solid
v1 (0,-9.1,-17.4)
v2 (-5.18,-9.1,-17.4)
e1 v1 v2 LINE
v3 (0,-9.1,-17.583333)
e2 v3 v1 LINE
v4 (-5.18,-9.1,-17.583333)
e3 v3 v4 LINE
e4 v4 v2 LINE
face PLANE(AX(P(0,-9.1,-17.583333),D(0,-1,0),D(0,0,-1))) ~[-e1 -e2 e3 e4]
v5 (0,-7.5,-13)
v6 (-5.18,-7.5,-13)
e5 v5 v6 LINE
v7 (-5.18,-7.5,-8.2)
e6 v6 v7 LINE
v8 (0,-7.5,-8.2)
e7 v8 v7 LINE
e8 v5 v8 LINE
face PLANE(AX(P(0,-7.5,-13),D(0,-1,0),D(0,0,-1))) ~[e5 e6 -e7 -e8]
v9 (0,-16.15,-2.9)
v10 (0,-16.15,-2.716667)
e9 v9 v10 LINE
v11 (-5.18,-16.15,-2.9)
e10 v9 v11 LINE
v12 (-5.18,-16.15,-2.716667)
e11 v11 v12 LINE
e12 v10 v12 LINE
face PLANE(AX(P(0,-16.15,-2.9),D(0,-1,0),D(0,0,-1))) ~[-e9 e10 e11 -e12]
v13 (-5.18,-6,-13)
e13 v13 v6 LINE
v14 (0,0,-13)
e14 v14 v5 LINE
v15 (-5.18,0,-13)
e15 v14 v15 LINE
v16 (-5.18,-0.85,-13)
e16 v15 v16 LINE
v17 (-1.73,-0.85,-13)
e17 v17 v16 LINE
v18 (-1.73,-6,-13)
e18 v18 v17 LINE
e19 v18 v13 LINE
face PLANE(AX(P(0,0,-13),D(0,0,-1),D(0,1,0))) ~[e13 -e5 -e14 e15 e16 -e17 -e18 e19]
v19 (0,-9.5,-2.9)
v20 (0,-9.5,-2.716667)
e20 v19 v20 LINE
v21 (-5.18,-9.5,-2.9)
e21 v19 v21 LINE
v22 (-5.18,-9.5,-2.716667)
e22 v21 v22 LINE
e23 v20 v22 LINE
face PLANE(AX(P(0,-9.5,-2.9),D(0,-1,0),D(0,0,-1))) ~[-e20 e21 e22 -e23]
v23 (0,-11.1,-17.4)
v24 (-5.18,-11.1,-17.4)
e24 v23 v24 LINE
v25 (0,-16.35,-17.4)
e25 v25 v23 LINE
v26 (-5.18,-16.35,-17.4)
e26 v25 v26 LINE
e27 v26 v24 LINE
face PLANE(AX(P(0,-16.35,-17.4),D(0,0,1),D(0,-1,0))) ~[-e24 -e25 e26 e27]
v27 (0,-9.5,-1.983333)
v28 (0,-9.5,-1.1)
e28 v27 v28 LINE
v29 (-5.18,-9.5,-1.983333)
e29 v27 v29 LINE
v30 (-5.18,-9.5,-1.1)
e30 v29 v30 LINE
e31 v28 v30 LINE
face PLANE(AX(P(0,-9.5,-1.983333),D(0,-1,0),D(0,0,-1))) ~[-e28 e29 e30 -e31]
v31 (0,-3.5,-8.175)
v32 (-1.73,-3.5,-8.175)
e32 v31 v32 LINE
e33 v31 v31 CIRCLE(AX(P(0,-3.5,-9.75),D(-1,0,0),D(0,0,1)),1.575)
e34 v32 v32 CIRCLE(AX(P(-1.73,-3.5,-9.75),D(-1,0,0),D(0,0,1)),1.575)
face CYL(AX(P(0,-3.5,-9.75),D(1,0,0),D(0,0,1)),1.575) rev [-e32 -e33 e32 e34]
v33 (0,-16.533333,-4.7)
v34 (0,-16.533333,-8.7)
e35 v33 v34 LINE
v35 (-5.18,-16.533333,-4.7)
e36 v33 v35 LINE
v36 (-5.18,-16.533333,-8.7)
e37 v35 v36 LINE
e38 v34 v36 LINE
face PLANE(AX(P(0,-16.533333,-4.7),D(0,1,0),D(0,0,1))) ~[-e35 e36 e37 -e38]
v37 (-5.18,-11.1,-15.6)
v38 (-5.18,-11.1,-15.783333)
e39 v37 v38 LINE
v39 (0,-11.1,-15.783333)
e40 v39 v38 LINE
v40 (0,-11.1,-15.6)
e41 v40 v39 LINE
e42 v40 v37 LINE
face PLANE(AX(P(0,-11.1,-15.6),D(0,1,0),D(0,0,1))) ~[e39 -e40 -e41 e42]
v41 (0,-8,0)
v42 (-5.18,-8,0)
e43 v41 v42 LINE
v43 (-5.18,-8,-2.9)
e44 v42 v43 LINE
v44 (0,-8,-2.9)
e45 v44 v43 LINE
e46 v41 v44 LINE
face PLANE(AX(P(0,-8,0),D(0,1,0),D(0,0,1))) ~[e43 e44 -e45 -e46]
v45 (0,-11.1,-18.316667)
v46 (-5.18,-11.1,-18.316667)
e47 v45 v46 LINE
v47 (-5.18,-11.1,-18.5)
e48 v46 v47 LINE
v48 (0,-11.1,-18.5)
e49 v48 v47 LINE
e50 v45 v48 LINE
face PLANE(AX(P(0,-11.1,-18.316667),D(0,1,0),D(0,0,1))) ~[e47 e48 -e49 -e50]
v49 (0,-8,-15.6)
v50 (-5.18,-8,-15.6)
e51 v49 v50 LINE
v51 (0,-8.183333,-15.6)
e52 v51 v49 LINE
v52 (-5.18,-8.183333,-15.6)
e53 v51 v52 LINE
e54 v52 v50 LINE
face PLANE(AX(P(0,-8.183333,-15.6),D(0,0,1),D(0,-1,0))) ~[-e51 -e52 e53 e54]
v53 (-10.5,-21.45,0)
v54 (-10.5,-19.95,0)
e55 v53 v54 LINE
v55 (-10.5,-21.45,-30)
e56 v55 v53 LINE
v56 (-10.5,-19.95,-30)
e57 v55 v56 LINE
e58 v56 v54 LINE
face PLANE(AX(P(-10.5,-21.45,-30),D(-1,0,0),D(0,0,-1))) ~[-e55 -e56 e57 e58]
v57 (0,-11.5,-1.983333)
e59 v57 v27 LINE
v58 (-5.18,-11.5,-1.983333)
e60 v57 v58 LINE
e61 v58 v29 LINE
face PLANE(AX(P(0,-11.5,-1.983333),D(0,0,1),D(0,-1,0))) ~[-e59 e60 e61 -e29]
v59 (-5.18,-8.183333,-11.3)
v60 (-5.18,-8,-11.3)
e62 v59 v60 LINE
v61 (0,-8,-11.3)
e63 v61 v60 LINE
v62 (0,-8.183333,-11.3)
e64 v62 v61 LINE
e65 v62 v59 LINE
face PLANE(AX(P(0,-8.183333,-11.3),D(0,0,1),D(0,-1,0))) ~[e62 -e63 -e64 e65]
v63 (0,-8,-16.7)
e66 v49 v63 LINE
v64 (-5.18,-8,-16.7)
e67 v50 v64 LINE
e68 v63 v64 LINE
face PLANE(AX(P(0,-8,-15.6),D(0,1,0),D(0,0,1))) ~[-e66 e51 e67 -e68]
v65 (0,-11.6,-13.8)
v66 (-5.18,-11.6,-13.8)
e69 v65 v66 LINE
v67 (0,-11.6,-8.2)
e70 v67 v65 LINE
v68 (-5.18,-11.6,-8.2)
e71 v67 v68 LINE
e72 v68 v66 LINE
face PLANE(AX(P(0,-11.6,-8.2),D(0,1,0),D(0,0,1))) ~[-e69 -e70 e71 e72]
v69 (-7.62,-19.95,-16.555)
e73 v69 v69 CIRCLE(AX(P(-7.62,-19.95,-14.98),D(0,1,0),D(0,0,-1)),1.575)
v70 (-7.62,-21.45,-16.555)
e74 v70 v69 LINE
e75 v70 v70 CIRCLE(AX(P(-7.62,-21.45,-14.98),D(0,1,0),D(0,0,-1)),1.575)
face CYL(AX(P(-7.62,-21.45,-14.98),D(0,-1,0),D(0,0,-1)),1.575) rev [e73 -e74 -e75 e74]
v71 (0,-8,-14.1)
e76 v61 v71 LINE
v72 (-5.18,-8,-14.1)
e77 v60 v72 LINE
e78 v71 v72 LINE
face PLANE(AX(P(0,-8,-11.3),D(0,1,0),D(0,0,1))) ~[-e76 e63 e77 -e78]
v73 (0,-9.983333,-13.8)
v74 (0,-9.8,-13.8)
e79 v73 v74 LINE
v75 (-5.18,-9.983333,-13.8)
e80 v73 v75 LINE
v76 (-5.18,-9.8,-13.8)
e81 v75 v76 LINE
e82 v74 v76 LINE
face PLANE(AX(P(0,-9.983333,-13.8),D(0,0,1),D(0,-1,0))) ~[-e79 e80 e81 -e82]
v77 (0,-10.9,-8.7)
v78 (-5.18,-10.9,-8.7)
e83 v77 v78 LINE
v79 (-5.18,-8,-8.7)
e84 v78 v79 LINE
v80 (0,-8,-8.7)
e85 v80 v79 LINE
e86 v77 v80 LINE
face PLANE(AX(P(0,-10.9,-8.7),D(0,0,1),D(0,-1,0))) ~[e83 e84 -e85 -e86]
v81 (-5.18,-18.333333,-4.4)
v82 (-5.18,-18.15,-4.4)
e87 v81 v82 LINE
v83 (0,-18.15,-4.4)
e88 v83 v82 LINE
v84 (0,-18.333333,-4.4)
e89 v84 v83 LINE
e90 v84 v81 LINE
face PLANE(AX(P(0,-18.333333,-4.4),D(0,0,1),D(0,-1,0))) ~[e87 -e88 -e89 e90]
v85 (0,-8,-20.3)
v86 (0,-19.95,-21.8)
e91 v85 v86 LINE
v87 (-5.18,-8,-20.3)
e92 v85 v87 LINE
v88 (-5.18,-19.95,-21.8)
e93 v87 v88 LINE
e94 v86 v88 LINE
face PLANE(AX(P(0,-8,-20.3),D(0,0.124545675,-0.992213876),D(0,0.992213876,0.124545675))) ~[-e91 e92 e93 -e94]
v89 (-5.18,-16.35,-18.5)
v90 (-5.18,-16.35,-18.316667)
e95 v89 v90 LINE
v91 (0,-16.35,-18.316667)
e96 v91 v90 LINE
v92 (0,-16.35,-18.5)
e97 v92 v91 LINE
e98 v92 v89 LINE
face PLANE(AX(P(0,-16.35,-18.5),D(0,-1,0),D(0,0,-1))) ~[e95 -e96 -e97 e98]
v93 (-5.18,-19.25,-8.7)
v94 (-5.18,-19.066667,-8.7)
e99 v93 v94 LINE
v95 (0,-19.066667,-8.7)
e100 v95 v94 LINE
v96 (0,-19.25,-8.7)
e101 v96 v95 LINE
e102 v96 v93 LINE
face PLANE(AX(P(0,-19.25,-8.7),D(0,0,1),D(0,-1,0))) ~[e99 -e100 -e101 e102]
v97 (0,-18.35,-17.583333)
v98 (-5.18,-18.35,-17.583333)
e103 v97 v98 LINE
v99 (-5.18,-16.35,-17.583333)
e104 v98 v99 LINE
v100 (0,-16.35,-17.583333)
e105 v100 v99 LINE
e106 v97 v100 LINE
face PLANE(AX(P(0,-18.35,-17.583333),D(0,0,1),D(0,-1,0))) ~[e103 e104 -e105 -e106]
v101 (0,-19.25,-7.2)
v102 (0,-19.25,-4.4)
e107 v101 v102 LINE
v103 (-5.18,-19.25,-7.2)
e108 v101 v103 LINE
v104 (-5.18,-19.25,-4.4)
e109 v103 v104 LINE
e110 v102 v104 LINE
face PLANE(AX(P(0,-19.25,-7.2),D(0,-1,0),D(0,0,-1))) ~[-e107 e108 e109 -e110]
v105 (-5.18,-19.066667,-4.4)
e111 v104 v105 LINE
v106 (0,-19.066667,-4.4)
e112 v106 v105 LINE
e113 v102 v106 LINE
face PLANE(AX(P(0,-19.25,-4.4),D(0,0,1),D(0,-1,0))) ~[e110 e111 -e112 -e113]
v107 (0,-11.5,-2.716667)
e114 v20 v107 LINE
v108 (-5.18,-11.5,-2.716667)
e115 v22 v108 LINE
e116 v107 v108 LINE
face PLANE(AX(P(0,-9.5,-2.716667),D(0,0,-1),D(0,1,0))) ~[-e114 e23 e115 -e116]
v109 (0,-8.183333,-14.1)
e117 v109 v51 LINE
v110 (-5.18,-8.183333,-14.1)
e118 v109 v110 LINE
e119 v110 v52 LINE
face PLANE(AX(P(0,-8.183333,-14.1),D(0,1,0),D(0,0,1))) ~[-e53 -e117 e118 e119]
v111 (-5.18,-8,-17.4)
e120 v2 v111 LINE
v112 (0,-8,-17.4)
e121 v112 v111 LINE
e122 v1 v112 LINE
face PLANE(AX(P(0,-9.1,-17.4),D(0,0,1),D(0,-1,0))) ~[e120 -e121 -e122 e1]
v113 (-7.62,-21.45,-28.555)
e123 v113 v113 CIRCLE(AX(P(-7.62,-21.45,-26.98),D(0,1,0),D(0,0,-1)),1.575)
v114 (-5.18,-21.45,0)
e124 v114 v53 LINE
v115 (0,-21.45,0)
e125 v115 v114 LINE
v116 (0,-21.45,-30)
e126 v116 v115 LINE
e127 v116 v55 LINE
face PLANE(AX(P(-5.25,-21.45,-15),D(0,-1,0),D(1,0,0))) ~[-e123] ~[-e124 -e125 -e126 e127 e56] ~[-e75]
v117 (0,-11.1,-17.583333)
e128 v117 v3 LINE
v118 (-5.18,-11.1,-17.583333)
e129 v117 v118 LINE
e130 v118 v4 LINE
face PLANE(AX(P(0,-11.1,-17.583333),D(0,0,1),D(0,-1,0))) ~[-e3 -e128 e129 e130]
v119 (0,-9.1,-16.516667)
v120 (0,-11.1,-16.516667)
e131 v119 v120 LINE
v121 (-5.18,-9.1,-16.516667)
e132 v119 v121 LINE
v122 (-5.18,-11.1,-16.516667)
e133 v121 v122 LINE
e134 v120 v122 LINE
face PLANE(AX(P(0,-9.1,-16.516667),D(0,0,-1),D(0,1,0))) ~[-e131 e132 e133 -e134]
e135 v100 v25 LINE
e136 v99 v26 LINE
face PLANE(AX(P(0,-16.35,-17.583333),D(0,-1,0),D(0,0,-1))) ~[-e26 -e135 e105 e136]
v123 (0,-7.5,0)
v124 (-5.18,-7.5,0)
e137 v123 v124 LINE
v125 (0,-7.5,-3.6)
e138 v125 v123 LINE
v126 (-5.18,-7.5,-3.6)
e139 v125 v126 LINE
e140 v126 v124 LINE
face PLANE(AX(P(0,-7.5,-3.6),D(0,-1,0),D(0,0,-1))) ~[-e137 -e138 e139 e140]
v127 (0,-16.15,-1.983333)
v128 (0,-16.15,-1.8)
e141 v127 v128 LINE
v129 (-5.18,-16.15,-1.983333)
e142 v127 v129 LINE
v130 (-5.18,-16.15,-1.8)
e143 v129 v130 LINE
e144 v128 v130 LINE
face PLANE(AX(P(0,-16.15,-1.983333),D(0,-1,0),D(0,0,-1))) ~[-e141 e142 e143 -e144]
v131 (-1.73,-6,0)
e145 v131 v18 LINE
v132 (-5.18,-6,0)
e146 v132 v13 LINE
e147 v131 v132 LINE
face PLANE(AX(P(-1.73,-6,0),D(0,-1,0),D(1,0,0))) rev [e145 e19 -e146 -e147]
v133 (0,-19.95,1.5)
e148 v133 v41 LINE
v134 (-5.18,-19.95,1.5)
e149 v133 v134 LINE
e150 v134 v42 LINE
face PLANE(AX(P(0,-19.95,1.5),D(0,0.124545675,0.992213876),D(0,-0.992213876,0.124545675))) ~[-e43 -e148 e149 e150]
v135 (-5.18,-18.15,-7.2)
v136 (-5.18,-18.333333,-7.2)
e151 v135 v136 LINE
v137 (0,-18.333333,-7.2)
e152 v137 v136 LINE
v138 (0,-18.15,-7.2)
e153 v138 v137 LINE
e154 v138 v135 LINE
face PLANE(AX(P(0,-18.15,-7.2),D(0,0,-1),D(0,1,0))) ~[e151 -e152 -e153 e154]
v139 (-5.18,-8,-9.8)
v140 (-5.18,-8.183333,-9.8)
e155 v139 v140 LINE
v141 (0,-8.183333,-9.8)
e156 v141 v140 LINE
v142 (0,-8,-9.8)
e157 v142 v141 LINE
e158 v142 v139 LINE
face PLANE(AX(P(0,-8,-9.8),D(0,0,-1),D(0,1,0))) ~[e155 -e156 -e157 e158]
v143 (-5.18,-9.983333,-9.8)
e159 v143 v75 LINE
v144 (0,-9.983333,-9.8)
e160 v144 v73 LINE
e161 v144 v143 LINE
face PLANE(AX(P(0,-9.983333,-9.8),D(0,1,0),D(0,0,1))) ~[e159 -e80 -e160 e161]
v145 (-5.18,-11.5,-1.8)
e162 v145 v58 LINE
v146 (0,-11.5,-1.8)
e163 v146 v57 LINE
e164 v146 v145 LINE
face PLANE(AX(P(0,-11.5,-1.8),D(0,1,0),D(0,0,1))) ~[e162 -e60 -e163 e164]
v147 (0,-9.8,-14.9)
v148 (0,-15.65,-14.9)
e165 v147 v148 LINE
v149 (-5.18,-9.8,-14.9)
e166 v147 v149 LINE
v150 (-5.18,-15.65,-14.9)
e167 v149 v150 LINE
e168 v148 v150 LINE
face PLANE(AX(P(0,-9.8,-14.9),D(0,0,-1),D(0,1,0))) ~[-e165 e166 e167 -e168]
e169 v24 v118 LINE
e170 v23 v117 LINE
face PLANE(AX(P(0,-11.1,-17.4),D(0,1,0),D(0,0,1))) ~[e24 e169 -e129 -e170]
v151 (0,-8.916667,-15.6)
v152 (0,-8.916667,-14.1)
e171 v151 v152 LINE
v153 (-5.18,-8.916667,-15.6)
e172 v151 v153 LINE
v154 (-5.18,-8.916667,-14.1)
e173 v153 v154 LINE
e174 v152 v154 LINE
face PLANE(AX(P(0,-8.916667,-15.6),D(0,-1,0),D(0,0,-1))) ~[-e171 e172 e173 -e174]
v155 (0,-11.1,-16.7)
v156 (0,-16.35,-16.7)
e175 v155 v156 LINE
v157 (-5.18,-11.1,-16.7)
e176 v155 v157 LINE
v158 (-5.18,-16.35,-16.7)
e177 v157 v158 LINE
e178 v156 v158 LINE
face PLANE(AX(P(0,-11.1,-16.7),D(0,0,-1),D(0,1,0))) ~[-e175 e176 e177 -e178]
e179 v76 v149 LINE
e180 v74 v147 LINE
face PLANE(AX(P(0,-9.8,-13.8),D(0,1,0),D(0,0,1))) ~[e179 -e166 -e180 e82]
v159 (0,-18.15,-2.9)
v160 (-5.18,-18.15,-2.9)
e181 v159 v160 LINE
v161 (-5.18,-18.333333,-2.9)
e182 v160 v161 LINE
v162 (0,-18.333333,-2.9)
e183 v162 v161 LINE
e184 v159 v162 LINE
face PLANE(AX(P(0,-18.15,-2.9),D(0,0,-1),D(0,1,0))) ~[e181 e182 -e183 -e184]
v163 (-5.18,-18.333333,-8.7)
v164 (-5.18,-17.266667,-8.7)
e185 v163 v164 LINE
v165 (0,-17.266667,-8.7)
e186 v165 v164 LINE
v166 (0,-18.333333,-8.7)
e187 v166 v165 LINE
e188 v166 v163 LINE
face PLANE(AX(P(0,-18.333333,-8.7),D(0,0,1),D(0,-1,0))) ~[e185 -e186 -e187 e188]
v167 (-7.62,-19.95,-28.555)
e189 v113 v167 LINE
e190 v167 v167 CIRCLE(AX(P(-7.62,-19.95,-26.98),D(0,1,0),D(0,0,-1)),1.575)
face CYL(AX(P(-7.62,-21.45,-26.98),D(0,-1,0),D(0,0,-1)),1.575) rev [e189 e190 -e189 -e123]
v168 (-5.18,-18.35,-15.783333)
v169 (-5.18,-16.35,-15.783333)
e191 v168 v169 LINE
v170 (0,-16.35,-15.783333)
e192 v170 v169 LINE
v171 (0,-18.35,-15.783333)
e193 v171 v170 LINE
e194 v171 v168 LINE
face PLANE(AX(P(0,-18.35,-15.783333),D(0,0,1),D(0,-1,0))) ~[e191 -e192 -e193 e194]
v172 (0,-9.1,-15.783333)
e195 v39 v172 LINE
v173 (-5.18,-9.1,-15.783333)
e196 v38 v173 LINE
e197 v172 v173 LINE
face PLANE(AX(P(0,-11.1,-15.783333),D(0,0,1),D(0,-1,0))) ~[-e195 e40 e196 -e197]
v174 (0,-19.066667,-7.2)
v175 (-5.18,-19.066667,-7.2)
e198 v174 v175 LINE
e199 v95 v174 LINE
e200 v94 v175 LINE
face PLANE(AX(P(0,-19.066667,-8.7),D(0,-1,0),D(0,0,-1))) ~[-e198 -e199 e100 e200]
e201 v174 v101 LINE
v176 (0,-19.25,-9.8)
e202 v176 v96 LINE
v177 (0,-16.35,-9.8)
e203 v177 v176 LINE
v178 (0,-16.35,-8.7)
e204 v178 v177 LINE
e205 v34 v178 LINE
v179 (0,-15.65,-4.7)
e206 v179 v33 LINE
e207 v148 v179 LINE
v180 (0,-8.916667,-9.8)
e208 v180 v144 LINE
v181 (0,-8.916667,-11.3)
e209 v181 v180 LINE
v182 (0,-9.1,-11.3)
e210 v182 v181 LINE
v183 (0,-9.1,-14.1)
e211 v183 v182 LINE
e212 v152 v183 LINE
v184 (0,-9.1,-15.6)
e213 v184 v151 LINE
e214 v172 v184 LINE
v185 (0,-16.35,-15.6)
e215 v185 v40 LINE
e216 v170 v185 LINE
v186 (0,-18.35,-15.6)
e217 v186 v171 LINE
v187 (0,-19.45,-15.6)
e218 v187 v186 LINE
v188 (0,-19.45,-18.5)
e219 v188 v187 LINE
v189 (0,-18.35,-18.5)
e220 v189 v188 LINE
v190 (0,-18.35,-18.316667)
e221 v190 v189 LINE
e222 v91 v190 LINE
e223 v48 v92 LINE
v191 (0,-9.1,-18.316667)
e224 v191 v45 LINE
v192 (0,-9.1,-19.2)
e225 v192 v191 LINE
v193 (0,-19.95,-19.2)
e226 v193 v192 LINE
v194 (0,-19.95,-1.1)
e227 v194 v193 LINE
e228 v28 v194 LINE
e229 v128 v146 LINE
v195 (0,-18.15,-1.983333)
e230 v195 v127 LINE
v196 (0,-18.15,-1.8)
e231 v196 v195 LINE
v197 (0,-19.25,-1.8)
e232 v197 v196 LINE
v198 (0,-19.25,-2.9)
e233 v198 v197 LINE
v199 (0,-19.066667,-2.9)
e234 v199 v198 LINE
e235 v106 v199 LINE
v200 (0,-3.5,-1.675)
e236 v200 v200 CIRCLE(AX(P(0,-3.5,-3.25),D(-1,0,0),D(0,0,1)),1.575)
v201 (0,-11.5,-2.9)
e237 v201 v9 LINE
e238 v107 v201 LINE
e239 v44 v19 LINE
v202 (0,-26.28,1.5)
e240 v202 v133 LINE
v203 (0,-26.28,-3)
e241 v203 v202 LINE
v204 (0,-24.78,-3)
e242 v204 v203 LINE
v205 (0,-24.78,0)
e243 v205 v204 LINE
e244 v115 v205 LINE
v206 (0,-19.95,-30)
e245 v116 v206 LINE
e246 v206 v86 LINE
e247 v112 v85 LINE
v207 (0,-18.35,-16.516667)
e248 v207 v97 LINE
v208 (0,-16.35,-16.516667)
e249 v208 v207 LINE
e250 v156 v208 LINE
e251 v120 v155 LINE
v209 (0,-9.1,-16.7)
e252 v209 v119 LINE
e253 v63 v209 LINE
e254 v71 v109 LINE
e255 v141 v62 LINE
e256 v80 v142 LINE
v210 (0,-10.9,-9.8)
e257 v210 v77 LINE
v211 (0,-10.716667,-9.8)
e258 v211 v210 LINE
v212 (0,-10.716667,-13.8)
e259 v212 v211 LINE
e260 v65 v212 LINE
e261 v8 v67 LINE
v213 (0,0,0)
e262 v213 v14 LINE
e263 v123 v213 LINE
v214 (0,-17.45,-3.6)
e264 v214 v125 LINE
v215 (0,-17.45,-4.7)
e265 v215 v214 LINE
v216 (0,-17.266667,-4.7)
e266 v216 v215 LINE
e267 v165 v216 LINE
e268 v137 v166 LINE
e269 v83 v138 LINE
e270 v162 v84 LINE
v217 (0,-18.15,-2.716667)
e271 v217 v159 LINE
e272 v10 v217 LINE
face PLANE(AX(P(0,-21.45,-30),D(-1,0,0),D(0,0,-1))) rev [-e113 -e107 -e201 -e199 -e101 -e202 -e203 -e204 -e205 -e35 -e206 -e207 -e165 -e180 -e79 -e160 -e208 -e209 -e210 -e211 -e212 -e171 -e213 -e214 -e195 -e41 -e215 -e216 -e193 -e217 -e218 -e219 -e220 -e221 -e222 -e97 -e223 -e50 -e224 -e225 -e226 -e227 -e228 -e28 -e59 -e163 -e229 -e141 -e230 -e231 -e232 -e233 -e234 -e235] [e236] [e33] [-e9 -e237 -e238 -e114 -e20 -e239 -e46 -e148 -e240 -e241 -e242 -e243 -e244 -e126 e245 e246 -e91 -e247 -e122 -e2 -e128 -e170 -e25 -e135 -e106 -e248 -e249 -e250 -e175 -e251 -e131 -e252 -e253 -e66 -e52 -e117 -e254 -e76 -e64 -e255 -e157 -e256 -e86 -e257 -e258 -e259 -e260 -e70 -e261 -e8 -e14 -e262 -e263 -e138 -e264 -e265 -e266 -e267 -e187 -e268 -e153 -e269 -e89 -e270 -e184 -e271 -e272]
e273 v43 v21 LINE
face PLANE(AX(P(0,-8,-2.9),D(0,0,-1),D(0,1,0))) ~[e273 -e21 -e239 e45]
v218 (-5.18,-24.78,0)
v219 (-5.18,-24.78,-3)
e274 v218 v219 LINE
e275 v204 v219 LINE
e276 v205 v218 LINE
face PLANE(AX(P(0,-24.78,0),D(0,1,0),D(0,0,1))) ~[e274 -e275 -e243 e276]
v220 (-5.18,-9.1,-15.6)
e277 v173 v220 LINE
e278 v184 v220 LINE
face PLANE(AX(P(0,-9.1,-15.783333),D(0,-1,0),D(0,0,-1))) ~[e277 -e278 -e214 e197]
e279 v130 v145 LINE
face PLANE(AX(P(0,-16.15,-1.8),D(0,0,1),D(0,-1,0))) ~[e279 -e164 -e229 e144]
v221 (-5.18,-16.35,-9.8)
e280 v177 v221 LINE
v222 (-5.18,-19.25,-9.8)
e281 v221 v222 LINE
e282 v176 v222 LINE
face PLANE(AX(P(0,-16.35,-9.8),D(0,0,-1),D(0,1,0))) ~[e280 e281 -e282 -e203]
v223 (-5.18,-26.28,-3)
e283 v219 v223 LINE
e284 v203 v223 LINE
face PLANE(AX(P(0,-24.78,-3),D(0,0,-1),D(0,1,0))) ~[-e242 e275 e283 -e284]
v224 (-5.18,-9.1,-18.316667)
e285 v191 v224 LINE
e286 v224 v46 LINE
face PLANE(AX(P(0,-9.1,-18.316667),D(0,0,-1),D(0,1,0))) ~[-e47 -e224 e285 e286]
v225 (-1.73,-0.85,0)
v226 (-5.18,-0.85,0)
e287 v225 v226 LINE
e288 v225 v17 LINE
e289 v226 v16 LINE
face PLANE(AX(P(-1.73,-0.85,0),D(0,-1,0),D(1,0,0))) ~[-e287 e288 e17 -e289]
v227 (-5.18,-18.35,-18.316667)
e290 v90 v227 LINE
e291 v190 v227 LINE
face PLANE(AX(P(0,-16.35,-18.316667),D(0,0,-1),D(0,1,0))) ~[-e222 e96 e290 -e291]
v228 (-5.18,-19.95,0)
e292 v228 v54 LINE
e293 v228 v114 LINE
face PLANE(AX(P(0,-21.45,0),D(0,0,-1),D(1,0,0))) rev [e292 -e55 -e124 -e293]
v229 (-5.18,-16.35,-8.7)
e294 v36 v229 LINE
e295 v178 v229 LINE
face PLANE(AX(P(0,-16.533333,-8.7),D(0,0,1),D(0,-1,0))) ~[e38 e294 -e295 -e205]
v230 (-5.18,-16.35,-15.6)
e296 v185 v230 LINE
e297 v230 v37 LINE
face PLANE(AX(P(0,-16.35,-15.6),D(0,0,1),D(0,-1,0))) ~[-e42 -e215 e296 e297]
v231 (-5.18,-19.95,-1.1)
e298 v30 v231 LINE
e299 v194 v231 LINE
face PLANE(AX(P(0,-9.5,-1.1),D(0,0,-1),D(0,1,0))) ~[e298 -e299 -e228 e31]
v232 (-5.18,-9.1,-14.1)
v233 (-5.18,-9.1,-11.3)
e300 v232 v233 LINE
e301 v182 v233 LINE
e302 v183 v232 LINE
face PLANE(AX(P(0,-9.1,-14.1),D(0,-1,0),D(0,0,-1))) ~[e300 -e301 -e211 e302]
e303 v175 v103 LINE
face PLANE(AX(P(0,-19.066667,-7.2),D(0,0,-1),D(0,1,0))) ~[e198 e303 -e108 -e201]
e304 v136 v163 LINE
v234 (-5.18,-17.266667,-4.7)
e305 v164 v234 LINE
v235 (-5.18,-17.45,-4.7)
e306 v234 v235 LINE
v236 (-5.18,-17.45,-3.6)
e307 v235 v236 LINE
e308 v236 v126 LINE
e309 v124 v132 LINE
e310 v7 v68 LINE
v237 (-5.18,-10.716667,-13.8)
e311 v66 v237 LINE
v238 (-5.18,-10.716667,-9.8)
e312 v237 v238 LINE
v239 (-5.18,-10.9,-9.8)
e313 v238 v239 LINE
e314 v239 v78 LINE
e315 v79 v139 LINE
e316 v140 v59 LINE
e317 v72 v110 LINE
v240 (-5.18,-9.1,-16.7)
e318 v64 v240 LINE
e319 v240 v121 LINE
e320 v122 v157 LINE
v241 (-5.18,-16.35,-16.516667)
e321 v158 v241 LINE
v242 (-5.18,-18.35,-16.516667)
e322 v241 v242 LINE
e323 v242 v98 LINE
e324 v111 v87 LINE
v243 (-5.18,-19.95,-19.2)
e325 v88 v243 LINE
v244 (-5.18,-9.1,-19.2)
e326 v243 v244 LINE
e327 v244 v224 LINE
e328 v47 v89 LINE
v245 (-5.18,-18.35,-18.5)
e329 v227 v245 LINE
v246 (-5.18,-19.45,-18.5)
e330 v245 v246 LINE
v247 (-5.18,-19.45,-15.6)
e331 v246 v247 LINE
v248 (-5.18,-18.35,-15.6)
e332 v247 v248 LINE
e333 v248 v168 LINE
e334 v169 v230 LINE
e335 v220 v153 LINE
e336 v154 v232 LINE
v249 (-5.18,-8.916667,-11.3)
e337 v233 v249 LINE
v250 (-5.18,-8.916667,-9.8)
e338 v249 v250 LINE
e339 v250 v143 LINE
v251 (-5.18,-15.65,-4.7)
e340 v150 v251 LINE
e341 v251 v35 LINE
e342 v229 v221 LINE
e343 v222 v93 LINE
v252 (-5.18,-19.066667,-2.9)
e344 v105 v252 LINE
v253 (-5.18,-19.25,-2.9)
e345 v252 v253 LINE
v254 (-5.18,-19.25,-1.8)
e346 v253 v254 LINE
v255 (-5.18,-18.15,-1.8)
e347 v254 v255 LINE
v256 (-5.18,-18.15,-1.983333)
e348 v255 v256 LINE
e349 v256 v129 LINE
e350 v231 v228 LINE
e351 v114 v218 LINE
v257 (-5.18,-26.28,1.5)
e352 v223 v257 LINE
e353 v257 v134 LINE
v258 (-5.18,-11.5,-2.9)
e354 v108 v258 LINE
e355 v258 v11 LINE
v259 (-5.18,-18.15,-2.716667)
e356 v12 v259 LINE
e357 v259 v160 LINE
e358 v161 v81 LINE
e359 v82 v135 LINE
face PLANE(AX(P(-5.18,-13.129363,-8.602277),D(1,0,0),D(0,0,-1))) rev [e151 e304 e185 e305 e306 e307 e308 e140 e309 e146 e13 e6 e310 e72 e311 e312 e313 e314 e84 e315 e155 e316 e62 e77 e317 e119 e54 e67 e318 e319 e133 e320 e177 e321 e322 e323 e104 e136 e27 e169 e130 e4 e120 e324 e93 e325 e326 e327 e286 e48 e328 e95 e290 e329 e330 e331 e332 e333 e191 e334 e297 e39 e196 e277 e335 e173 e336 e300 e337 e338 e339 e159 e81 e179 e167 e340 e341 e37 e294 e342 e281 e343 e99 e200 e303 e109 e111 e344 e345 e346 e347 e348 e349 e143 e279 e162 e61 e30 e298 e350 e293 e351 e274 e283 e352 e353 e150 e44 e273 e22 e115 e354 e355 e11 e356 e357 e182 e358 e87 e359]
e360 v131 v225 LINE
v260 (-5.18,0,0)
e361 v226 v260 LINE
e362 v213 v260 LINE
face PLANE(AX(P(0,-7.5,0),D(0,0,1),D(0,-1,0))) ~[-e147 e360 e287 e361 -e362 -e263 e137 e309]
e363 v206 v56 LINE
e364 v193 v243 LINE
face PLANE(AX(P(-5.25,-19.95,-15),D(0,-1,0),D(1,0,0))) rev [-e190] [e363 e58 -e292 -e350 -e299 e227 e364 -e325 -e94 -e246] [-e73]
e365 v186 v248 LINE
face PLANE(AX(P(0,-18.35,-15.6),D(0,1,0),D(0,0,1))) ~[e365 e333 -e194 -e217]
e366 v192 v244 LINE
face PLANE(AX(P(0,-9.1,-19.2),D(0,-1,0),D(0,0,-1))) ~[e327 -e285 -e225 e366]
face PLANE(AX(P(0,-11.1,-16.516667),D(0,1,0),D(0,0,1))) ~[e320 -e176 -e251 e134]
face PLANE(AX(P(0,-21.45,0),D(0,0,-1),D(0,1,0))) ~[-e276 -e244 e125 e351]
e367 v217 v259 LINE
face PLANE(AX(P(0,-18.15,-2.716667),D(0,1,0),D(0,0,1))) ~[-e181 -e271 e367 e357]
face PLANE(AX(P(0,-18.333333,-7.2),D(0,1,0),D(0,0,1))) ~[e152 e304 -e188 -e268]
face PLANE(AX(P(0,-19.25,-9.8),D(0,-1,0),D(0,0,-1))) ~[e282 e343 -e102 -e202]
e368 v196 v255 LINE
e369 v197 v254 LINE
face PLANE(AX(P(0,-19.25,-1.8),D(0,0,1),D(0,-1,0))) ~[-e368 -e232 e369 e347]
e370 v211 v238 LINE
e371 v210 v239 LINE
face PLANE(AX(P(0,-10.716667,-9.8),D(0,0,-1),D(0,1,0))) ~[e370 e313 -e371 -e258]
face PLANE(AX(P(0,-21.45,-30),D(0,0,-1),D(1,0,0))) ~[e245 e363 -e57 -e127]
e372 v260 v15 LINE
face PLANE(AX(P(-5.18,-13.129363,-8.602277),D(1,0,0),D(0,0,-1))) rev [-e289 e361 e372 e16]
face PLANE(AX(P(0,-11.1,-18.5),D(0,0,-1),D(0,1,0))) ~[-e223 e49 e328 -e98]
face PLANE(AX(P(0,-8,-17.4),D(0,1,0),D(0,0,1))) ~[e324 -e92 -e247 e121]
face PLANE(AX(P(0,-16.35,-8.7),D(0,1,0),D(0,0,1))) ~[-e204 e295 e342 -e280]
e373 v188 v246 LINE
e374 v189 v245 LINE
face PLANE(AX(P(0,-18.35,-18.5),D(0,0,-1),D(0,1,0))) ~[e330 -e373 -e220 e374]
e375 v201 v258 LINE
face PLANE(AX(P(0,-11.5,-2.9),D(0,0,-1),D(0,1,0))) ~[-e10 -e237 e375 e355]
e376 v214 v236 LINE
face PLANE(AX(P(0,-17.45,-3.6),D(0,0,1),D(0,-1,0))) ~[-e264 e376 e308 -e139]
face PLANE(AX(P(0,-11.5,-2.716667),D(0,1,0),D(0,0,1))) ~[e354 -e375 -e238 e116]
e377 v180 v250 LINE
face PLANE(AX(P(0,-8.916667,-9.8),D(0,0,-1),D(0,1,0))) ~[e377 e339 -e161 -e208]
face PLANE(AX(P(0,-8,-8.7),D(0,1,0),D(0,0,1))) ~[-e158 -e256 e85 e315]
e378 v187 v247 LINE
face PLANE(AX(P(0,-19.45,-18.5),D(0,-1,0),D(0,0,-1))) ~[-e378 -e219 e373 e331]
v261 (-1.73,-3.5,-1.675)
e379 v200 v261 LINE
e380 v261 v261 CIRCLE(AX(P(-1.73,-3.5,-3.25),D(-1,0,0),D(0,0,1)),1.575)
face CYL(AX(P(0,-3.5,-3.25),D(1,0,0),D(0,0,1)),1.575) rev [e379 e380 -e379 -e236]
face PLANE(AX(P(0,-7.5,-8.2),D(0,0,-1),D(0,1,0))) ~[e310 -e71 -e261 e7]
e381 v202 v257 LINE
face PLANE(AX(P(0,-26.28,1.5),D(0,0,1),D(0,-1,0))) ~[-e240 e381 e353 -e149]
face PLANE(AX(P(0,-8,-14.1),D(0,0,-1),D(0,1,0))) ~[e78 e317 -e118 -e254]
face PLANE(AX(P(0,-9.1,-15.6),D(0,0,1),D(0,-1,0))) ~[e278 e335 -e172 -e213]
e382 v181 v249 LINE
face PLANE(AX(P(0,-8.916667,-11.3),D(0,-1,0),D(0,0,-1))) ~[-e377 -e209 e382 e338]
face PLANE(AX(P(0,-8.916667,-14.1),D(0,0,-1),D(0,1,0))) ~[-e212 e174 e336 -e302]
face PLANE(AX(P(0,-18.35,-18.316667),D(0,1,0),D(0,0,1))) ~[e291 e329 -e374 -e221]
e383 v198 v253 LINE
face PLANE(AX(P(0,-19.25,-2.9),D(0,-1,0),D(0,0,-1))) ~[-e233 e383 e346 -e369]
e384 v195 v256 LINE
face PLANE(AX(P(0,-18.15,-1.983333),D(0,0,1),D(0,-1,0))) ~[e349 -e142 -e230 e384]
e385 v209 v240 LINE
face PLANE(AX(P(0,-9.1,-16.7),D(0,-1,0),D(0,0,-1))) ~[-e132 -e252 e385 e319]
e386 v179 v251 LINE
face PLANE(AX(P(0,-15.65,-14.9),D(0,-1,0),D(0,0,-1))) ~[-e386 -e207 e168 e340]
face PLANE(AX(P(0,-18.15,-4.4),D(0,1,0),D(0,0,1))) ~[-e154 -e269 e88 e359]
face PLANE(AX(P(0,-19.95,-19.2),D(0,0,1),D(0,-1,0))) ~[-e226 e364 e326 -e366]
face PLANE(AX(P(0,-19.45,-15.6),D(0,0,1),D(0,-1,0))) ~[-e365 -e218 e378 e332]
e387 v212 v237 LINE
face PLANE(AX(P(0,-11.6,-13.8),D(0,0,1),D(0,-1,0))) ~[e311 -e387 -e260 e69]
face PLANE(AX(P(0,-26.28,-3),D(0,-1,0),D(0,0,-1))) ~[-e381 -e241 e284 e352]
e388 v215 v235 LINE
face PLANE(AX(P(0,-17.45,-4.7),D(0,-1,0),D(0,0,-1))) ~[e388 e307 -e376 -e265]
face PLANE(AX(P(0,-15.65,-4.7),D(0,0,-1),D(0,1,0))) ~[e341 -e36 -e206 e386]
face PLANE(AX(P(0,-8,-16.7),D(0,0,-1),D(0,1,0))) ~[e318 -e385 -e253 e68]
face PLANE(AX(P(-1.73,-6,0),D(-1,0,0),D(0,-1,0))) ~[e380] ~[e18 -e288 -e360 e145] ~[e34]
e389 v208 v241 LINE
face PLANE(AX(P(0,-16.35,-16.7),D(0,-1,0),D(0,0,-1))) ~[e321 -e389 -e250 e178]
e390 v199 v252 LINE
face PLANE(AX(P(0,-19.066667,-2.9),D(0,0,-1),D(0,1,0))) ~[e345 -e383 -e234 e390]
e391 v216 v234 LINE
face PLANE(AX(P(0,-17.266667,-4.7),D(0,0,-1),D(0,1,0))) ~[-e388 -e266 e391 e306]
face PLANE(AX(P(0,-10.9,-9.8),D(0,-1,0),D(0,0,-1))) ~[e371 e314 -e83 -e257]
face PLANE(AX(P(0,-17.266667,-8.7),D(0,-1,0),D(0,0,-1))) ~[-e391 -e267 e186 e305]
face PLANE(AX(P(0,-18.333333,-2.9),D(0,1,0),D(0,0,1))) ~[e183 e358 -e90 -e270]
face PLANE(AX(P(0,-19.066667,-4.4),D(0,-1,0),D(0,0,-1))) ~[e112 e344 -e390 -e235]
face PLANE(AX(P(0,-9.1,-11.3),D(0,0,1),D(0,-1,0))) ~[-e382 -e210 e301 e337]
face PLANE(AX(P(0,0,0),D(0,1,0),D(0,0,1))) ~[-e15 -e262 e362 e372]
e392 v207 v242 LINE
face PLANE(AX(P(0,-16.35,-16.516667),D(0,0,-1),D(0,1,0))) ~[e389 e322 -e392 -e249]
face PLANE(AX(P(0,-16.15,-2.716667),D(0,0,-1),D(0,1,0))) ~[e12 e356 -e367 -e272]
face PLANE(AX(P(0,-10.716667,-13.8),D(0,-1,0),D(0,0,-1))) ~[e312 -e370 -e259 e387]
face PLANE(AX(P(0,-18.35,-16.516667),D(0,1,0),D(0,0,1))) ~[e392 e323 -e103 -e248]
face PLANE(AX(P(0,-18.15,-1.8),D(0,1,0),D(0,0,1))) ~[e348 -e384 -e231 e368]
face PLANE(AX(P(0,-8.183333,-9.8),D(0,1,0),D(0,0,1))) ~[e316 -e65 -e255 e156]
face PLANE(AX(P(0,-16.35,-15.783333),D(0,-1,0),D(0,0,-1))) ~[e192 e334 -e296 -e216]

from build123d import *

# Parameters (mm, degrees)
BOSS_EXTRUDE1_DEPTH = 5.18
CUT_EXTRUDE1_REACH  = 36.536
SKETCH2_W           = 3.45
SKETCH2_H           = 5.15
SKETCH3_W           = 10.5
SKETCH3_H           = 30
SKETCH3_R           = 1.575
BOSS_EXTRUDE2_DEPTH = 1.5
CUT_EXTRUDE3_REACH  = 43.242
SKETCH7_R           = 1.575


with BuildPart() as part:
    # Sketch1 → Boss-Extrude1 (new body)
    with BuildSketch(Plane(origin=(0, 0, 0), x_dir=(0, 0, -1), z_dir=(1, 0, 0))):
        Polygon((0, 0), (13, 0), (13, -7.5), (8.2, -7.5), (8.2, -11.6), (13.8, -11.6), (13.8, -10.716666667), (9.8, -10.716666667), (9.8, -10.9), (8.7, -10.9), (8.7, -8), (9.8, -8), (9.8, -8.183333333), (11.3, -8.183333333), (11.3, -8), (14.1, -8), (14.1, -8.183333333), (15.6, -8.183333333), (15.6, -8), (16.7, -8), (16.7, -9.1), (16.516666667, -9.1), (16.516666667, -11.1), (16.7, -11.1), (16.7, -16.35), (16.516666667, -16.35), (16.516666667, -18.35), (17.583333333, -18.35), (17.583333333, -16.35), (17.4, -16.35), (17.4, -11.1), (17.583333333, -11.1), (17.583333333, -9.1), (17.4, -9.1), (17.4, -8), (20.3, -8), (21.8, -19.95), (21.8, -21.45), (0, -21.45), (0, -24.78), (3, -24.78), (3, -26.28), (-1.5, -26.28), (-1.5, -19.95), (0, -8), (2.9, -8), (2.9, -9.5), (2.716666667, -9.5), (2.716666667, -11.5), (2.9, -11.5), (2.9, -16.15), (2.716666667, -16.15), (2.716666667, -18.15), (2.9, -18.15), (2.9, -18.333333333), (4.4, -18.333333333), (4.4, -18.15), (7.2, -18.15), (7.2, -18.333333333), (8.7, -18.333333333), (8.7, -17.266666667), (4.7, -17.266666667), (4.7, -17.45), (3.6, -17.45), (3.6, -7.5), (0, -7.5), align=None)
        Polygon((14.9, -9.8), (14.9, -15.65), (4.7, -15.65), (4.7, -16.533333333), (8.7, -16.533333333), (8.7, -16.35), (9.8, -16.35), (9.8, -19.25), (8.7, -19.25), (8.7, -19.066666667), (7.2, -19.066666667), (7.2, -19.25), (4.4, -19.25), (4.4, -19.066666667), (2.9, -19.066666667), (2.9, -19.25), (1.8, -19.25), (1.8, -18.15), (1.983333333, -18.15), (1.983333333, -16.15), (1.8, -16.15), (1.8, -11.5), (1.983333333, -11.5), (1.983333333, -9.5), (1.1, -9.5), (1.1, -19.95), (19.2, -19.95), (19.2, -9.1), (18.316666667, -9.1), (18.316666667, -11.1), (18.5, -11.1), (18.5, -16.35), (18.316666667, -16.35), (18.316666667, -18.35), (18.5, -18.35), (18.5, -19.45), (15.6, -19.45), (15.6, -18.35), (15.783333333, -18.35), (15.783333333, -16.35), (15.6, -16.35), (15.6, -11.1), (15.783333333, -11.1), (15.783333333, -9.1), (15.6, -9.1), (15.6, -8.916666667), (14.1, -8.916666667), (14.1, -9.1), (11.3, -9.1), (11.3, -8.916666667), (9.8, -8.916666667), (9.8, -9.983333333), (13.8, -9.983333333), (13.8, -9.8), align=None, mode=Mode.SUBTRACT)
    extrude(amount=BOSS_EXTRUDE1_DEPTH)

    # Sketch2 → Cut-Extrude1 (cut, up to next)
    with BuildSketch(Plane.XY, mode=Mode.PRIVATE) as cut_extrude1_sk1:
        with Locations((3.455, -3.425)):
            Rectangle(SKETCH2_W, SKETCH2_H)
    cut_extrude1_tool1 = extrude(cut_extrude1_sk1.sketch, amount=-CUT_EXTRUDE1_REACH, mode=Mode.PRIVATE) & part.part
    add(cut_extrude1_tool1.solids().sort_by_distance((3.455, -3.425, 0))[0], mode=Mode.SUBTRACT)

    # Sketch3 → Boss-Extrude2 (add)
    with BuildSketch(Plane.XZ.offset(21.45)):
        with Locations((5.25, -15)):
            Rectangle(SKETCH3_W, SKETCH3_H)
        with Locations(Location((7.62, -14.98, 0), (0, 0, 270))):
            Circle(SKETCH3_R, mode=Mode.SUBTRACT)
        with Locations(Location((7.62, -26.98, 0), (0, 0, 270))):
            Circle(SKETCH3_R, mode=Mode.SUBTRACT)
    extrude(amount=-BOSS_EXTRUDE2_DEPTH)

    # Sketch7 → Cut-Extrude3 (cut, up to next)
    with BuildSketch(Plane.ZY, mode=Mode.PRIVATE) as cut_extrude3_sk1:
        with Locations((-3.25, -3.5)):
            Circle(SKETCH7_R)
    cut_extrude3_tool1 = extrude(cut_extrude3_sk1.sketch, amount=-CUT_EXTRUDE3_REACH, mode=Mode.PRIVATE) & part.part
    # Sketch7 → Cut-Extrude3 (cut, up to next)
    with BuildSketch(Plane.ZY, mode=Mode.PRIVATE) as cut_extrude3_sk2:
        with Locations((-9.75, -3.5)):
            Circle(SKETCH7_R)
    cut_extrude3_tool2 = extrude(cut_extrude3_sk2.sketch, amount=-CUT_EXTRUDE3_REACH, mode=Mode.PRIVATE) & part.part
    add(cut_extrude3_tool1.solids().sort_by_distance((0, -3.5, -3.25))[0], mode=Mode.SUBTRACT)
    add(cut_extrude3_tool2.solids().sort_by_distance((0, -3.5, -9.75))[0], mode=Mode.SUBTRACT)


with BuildPart() as body_2:
    # Mirror3: mirrored copy
    add(part.part.mirror(Plane(origin=(0, 0, 0), x_dir=(0, 0, 1), z_dir=(1, 0, 0))))


solid = body_2.part
